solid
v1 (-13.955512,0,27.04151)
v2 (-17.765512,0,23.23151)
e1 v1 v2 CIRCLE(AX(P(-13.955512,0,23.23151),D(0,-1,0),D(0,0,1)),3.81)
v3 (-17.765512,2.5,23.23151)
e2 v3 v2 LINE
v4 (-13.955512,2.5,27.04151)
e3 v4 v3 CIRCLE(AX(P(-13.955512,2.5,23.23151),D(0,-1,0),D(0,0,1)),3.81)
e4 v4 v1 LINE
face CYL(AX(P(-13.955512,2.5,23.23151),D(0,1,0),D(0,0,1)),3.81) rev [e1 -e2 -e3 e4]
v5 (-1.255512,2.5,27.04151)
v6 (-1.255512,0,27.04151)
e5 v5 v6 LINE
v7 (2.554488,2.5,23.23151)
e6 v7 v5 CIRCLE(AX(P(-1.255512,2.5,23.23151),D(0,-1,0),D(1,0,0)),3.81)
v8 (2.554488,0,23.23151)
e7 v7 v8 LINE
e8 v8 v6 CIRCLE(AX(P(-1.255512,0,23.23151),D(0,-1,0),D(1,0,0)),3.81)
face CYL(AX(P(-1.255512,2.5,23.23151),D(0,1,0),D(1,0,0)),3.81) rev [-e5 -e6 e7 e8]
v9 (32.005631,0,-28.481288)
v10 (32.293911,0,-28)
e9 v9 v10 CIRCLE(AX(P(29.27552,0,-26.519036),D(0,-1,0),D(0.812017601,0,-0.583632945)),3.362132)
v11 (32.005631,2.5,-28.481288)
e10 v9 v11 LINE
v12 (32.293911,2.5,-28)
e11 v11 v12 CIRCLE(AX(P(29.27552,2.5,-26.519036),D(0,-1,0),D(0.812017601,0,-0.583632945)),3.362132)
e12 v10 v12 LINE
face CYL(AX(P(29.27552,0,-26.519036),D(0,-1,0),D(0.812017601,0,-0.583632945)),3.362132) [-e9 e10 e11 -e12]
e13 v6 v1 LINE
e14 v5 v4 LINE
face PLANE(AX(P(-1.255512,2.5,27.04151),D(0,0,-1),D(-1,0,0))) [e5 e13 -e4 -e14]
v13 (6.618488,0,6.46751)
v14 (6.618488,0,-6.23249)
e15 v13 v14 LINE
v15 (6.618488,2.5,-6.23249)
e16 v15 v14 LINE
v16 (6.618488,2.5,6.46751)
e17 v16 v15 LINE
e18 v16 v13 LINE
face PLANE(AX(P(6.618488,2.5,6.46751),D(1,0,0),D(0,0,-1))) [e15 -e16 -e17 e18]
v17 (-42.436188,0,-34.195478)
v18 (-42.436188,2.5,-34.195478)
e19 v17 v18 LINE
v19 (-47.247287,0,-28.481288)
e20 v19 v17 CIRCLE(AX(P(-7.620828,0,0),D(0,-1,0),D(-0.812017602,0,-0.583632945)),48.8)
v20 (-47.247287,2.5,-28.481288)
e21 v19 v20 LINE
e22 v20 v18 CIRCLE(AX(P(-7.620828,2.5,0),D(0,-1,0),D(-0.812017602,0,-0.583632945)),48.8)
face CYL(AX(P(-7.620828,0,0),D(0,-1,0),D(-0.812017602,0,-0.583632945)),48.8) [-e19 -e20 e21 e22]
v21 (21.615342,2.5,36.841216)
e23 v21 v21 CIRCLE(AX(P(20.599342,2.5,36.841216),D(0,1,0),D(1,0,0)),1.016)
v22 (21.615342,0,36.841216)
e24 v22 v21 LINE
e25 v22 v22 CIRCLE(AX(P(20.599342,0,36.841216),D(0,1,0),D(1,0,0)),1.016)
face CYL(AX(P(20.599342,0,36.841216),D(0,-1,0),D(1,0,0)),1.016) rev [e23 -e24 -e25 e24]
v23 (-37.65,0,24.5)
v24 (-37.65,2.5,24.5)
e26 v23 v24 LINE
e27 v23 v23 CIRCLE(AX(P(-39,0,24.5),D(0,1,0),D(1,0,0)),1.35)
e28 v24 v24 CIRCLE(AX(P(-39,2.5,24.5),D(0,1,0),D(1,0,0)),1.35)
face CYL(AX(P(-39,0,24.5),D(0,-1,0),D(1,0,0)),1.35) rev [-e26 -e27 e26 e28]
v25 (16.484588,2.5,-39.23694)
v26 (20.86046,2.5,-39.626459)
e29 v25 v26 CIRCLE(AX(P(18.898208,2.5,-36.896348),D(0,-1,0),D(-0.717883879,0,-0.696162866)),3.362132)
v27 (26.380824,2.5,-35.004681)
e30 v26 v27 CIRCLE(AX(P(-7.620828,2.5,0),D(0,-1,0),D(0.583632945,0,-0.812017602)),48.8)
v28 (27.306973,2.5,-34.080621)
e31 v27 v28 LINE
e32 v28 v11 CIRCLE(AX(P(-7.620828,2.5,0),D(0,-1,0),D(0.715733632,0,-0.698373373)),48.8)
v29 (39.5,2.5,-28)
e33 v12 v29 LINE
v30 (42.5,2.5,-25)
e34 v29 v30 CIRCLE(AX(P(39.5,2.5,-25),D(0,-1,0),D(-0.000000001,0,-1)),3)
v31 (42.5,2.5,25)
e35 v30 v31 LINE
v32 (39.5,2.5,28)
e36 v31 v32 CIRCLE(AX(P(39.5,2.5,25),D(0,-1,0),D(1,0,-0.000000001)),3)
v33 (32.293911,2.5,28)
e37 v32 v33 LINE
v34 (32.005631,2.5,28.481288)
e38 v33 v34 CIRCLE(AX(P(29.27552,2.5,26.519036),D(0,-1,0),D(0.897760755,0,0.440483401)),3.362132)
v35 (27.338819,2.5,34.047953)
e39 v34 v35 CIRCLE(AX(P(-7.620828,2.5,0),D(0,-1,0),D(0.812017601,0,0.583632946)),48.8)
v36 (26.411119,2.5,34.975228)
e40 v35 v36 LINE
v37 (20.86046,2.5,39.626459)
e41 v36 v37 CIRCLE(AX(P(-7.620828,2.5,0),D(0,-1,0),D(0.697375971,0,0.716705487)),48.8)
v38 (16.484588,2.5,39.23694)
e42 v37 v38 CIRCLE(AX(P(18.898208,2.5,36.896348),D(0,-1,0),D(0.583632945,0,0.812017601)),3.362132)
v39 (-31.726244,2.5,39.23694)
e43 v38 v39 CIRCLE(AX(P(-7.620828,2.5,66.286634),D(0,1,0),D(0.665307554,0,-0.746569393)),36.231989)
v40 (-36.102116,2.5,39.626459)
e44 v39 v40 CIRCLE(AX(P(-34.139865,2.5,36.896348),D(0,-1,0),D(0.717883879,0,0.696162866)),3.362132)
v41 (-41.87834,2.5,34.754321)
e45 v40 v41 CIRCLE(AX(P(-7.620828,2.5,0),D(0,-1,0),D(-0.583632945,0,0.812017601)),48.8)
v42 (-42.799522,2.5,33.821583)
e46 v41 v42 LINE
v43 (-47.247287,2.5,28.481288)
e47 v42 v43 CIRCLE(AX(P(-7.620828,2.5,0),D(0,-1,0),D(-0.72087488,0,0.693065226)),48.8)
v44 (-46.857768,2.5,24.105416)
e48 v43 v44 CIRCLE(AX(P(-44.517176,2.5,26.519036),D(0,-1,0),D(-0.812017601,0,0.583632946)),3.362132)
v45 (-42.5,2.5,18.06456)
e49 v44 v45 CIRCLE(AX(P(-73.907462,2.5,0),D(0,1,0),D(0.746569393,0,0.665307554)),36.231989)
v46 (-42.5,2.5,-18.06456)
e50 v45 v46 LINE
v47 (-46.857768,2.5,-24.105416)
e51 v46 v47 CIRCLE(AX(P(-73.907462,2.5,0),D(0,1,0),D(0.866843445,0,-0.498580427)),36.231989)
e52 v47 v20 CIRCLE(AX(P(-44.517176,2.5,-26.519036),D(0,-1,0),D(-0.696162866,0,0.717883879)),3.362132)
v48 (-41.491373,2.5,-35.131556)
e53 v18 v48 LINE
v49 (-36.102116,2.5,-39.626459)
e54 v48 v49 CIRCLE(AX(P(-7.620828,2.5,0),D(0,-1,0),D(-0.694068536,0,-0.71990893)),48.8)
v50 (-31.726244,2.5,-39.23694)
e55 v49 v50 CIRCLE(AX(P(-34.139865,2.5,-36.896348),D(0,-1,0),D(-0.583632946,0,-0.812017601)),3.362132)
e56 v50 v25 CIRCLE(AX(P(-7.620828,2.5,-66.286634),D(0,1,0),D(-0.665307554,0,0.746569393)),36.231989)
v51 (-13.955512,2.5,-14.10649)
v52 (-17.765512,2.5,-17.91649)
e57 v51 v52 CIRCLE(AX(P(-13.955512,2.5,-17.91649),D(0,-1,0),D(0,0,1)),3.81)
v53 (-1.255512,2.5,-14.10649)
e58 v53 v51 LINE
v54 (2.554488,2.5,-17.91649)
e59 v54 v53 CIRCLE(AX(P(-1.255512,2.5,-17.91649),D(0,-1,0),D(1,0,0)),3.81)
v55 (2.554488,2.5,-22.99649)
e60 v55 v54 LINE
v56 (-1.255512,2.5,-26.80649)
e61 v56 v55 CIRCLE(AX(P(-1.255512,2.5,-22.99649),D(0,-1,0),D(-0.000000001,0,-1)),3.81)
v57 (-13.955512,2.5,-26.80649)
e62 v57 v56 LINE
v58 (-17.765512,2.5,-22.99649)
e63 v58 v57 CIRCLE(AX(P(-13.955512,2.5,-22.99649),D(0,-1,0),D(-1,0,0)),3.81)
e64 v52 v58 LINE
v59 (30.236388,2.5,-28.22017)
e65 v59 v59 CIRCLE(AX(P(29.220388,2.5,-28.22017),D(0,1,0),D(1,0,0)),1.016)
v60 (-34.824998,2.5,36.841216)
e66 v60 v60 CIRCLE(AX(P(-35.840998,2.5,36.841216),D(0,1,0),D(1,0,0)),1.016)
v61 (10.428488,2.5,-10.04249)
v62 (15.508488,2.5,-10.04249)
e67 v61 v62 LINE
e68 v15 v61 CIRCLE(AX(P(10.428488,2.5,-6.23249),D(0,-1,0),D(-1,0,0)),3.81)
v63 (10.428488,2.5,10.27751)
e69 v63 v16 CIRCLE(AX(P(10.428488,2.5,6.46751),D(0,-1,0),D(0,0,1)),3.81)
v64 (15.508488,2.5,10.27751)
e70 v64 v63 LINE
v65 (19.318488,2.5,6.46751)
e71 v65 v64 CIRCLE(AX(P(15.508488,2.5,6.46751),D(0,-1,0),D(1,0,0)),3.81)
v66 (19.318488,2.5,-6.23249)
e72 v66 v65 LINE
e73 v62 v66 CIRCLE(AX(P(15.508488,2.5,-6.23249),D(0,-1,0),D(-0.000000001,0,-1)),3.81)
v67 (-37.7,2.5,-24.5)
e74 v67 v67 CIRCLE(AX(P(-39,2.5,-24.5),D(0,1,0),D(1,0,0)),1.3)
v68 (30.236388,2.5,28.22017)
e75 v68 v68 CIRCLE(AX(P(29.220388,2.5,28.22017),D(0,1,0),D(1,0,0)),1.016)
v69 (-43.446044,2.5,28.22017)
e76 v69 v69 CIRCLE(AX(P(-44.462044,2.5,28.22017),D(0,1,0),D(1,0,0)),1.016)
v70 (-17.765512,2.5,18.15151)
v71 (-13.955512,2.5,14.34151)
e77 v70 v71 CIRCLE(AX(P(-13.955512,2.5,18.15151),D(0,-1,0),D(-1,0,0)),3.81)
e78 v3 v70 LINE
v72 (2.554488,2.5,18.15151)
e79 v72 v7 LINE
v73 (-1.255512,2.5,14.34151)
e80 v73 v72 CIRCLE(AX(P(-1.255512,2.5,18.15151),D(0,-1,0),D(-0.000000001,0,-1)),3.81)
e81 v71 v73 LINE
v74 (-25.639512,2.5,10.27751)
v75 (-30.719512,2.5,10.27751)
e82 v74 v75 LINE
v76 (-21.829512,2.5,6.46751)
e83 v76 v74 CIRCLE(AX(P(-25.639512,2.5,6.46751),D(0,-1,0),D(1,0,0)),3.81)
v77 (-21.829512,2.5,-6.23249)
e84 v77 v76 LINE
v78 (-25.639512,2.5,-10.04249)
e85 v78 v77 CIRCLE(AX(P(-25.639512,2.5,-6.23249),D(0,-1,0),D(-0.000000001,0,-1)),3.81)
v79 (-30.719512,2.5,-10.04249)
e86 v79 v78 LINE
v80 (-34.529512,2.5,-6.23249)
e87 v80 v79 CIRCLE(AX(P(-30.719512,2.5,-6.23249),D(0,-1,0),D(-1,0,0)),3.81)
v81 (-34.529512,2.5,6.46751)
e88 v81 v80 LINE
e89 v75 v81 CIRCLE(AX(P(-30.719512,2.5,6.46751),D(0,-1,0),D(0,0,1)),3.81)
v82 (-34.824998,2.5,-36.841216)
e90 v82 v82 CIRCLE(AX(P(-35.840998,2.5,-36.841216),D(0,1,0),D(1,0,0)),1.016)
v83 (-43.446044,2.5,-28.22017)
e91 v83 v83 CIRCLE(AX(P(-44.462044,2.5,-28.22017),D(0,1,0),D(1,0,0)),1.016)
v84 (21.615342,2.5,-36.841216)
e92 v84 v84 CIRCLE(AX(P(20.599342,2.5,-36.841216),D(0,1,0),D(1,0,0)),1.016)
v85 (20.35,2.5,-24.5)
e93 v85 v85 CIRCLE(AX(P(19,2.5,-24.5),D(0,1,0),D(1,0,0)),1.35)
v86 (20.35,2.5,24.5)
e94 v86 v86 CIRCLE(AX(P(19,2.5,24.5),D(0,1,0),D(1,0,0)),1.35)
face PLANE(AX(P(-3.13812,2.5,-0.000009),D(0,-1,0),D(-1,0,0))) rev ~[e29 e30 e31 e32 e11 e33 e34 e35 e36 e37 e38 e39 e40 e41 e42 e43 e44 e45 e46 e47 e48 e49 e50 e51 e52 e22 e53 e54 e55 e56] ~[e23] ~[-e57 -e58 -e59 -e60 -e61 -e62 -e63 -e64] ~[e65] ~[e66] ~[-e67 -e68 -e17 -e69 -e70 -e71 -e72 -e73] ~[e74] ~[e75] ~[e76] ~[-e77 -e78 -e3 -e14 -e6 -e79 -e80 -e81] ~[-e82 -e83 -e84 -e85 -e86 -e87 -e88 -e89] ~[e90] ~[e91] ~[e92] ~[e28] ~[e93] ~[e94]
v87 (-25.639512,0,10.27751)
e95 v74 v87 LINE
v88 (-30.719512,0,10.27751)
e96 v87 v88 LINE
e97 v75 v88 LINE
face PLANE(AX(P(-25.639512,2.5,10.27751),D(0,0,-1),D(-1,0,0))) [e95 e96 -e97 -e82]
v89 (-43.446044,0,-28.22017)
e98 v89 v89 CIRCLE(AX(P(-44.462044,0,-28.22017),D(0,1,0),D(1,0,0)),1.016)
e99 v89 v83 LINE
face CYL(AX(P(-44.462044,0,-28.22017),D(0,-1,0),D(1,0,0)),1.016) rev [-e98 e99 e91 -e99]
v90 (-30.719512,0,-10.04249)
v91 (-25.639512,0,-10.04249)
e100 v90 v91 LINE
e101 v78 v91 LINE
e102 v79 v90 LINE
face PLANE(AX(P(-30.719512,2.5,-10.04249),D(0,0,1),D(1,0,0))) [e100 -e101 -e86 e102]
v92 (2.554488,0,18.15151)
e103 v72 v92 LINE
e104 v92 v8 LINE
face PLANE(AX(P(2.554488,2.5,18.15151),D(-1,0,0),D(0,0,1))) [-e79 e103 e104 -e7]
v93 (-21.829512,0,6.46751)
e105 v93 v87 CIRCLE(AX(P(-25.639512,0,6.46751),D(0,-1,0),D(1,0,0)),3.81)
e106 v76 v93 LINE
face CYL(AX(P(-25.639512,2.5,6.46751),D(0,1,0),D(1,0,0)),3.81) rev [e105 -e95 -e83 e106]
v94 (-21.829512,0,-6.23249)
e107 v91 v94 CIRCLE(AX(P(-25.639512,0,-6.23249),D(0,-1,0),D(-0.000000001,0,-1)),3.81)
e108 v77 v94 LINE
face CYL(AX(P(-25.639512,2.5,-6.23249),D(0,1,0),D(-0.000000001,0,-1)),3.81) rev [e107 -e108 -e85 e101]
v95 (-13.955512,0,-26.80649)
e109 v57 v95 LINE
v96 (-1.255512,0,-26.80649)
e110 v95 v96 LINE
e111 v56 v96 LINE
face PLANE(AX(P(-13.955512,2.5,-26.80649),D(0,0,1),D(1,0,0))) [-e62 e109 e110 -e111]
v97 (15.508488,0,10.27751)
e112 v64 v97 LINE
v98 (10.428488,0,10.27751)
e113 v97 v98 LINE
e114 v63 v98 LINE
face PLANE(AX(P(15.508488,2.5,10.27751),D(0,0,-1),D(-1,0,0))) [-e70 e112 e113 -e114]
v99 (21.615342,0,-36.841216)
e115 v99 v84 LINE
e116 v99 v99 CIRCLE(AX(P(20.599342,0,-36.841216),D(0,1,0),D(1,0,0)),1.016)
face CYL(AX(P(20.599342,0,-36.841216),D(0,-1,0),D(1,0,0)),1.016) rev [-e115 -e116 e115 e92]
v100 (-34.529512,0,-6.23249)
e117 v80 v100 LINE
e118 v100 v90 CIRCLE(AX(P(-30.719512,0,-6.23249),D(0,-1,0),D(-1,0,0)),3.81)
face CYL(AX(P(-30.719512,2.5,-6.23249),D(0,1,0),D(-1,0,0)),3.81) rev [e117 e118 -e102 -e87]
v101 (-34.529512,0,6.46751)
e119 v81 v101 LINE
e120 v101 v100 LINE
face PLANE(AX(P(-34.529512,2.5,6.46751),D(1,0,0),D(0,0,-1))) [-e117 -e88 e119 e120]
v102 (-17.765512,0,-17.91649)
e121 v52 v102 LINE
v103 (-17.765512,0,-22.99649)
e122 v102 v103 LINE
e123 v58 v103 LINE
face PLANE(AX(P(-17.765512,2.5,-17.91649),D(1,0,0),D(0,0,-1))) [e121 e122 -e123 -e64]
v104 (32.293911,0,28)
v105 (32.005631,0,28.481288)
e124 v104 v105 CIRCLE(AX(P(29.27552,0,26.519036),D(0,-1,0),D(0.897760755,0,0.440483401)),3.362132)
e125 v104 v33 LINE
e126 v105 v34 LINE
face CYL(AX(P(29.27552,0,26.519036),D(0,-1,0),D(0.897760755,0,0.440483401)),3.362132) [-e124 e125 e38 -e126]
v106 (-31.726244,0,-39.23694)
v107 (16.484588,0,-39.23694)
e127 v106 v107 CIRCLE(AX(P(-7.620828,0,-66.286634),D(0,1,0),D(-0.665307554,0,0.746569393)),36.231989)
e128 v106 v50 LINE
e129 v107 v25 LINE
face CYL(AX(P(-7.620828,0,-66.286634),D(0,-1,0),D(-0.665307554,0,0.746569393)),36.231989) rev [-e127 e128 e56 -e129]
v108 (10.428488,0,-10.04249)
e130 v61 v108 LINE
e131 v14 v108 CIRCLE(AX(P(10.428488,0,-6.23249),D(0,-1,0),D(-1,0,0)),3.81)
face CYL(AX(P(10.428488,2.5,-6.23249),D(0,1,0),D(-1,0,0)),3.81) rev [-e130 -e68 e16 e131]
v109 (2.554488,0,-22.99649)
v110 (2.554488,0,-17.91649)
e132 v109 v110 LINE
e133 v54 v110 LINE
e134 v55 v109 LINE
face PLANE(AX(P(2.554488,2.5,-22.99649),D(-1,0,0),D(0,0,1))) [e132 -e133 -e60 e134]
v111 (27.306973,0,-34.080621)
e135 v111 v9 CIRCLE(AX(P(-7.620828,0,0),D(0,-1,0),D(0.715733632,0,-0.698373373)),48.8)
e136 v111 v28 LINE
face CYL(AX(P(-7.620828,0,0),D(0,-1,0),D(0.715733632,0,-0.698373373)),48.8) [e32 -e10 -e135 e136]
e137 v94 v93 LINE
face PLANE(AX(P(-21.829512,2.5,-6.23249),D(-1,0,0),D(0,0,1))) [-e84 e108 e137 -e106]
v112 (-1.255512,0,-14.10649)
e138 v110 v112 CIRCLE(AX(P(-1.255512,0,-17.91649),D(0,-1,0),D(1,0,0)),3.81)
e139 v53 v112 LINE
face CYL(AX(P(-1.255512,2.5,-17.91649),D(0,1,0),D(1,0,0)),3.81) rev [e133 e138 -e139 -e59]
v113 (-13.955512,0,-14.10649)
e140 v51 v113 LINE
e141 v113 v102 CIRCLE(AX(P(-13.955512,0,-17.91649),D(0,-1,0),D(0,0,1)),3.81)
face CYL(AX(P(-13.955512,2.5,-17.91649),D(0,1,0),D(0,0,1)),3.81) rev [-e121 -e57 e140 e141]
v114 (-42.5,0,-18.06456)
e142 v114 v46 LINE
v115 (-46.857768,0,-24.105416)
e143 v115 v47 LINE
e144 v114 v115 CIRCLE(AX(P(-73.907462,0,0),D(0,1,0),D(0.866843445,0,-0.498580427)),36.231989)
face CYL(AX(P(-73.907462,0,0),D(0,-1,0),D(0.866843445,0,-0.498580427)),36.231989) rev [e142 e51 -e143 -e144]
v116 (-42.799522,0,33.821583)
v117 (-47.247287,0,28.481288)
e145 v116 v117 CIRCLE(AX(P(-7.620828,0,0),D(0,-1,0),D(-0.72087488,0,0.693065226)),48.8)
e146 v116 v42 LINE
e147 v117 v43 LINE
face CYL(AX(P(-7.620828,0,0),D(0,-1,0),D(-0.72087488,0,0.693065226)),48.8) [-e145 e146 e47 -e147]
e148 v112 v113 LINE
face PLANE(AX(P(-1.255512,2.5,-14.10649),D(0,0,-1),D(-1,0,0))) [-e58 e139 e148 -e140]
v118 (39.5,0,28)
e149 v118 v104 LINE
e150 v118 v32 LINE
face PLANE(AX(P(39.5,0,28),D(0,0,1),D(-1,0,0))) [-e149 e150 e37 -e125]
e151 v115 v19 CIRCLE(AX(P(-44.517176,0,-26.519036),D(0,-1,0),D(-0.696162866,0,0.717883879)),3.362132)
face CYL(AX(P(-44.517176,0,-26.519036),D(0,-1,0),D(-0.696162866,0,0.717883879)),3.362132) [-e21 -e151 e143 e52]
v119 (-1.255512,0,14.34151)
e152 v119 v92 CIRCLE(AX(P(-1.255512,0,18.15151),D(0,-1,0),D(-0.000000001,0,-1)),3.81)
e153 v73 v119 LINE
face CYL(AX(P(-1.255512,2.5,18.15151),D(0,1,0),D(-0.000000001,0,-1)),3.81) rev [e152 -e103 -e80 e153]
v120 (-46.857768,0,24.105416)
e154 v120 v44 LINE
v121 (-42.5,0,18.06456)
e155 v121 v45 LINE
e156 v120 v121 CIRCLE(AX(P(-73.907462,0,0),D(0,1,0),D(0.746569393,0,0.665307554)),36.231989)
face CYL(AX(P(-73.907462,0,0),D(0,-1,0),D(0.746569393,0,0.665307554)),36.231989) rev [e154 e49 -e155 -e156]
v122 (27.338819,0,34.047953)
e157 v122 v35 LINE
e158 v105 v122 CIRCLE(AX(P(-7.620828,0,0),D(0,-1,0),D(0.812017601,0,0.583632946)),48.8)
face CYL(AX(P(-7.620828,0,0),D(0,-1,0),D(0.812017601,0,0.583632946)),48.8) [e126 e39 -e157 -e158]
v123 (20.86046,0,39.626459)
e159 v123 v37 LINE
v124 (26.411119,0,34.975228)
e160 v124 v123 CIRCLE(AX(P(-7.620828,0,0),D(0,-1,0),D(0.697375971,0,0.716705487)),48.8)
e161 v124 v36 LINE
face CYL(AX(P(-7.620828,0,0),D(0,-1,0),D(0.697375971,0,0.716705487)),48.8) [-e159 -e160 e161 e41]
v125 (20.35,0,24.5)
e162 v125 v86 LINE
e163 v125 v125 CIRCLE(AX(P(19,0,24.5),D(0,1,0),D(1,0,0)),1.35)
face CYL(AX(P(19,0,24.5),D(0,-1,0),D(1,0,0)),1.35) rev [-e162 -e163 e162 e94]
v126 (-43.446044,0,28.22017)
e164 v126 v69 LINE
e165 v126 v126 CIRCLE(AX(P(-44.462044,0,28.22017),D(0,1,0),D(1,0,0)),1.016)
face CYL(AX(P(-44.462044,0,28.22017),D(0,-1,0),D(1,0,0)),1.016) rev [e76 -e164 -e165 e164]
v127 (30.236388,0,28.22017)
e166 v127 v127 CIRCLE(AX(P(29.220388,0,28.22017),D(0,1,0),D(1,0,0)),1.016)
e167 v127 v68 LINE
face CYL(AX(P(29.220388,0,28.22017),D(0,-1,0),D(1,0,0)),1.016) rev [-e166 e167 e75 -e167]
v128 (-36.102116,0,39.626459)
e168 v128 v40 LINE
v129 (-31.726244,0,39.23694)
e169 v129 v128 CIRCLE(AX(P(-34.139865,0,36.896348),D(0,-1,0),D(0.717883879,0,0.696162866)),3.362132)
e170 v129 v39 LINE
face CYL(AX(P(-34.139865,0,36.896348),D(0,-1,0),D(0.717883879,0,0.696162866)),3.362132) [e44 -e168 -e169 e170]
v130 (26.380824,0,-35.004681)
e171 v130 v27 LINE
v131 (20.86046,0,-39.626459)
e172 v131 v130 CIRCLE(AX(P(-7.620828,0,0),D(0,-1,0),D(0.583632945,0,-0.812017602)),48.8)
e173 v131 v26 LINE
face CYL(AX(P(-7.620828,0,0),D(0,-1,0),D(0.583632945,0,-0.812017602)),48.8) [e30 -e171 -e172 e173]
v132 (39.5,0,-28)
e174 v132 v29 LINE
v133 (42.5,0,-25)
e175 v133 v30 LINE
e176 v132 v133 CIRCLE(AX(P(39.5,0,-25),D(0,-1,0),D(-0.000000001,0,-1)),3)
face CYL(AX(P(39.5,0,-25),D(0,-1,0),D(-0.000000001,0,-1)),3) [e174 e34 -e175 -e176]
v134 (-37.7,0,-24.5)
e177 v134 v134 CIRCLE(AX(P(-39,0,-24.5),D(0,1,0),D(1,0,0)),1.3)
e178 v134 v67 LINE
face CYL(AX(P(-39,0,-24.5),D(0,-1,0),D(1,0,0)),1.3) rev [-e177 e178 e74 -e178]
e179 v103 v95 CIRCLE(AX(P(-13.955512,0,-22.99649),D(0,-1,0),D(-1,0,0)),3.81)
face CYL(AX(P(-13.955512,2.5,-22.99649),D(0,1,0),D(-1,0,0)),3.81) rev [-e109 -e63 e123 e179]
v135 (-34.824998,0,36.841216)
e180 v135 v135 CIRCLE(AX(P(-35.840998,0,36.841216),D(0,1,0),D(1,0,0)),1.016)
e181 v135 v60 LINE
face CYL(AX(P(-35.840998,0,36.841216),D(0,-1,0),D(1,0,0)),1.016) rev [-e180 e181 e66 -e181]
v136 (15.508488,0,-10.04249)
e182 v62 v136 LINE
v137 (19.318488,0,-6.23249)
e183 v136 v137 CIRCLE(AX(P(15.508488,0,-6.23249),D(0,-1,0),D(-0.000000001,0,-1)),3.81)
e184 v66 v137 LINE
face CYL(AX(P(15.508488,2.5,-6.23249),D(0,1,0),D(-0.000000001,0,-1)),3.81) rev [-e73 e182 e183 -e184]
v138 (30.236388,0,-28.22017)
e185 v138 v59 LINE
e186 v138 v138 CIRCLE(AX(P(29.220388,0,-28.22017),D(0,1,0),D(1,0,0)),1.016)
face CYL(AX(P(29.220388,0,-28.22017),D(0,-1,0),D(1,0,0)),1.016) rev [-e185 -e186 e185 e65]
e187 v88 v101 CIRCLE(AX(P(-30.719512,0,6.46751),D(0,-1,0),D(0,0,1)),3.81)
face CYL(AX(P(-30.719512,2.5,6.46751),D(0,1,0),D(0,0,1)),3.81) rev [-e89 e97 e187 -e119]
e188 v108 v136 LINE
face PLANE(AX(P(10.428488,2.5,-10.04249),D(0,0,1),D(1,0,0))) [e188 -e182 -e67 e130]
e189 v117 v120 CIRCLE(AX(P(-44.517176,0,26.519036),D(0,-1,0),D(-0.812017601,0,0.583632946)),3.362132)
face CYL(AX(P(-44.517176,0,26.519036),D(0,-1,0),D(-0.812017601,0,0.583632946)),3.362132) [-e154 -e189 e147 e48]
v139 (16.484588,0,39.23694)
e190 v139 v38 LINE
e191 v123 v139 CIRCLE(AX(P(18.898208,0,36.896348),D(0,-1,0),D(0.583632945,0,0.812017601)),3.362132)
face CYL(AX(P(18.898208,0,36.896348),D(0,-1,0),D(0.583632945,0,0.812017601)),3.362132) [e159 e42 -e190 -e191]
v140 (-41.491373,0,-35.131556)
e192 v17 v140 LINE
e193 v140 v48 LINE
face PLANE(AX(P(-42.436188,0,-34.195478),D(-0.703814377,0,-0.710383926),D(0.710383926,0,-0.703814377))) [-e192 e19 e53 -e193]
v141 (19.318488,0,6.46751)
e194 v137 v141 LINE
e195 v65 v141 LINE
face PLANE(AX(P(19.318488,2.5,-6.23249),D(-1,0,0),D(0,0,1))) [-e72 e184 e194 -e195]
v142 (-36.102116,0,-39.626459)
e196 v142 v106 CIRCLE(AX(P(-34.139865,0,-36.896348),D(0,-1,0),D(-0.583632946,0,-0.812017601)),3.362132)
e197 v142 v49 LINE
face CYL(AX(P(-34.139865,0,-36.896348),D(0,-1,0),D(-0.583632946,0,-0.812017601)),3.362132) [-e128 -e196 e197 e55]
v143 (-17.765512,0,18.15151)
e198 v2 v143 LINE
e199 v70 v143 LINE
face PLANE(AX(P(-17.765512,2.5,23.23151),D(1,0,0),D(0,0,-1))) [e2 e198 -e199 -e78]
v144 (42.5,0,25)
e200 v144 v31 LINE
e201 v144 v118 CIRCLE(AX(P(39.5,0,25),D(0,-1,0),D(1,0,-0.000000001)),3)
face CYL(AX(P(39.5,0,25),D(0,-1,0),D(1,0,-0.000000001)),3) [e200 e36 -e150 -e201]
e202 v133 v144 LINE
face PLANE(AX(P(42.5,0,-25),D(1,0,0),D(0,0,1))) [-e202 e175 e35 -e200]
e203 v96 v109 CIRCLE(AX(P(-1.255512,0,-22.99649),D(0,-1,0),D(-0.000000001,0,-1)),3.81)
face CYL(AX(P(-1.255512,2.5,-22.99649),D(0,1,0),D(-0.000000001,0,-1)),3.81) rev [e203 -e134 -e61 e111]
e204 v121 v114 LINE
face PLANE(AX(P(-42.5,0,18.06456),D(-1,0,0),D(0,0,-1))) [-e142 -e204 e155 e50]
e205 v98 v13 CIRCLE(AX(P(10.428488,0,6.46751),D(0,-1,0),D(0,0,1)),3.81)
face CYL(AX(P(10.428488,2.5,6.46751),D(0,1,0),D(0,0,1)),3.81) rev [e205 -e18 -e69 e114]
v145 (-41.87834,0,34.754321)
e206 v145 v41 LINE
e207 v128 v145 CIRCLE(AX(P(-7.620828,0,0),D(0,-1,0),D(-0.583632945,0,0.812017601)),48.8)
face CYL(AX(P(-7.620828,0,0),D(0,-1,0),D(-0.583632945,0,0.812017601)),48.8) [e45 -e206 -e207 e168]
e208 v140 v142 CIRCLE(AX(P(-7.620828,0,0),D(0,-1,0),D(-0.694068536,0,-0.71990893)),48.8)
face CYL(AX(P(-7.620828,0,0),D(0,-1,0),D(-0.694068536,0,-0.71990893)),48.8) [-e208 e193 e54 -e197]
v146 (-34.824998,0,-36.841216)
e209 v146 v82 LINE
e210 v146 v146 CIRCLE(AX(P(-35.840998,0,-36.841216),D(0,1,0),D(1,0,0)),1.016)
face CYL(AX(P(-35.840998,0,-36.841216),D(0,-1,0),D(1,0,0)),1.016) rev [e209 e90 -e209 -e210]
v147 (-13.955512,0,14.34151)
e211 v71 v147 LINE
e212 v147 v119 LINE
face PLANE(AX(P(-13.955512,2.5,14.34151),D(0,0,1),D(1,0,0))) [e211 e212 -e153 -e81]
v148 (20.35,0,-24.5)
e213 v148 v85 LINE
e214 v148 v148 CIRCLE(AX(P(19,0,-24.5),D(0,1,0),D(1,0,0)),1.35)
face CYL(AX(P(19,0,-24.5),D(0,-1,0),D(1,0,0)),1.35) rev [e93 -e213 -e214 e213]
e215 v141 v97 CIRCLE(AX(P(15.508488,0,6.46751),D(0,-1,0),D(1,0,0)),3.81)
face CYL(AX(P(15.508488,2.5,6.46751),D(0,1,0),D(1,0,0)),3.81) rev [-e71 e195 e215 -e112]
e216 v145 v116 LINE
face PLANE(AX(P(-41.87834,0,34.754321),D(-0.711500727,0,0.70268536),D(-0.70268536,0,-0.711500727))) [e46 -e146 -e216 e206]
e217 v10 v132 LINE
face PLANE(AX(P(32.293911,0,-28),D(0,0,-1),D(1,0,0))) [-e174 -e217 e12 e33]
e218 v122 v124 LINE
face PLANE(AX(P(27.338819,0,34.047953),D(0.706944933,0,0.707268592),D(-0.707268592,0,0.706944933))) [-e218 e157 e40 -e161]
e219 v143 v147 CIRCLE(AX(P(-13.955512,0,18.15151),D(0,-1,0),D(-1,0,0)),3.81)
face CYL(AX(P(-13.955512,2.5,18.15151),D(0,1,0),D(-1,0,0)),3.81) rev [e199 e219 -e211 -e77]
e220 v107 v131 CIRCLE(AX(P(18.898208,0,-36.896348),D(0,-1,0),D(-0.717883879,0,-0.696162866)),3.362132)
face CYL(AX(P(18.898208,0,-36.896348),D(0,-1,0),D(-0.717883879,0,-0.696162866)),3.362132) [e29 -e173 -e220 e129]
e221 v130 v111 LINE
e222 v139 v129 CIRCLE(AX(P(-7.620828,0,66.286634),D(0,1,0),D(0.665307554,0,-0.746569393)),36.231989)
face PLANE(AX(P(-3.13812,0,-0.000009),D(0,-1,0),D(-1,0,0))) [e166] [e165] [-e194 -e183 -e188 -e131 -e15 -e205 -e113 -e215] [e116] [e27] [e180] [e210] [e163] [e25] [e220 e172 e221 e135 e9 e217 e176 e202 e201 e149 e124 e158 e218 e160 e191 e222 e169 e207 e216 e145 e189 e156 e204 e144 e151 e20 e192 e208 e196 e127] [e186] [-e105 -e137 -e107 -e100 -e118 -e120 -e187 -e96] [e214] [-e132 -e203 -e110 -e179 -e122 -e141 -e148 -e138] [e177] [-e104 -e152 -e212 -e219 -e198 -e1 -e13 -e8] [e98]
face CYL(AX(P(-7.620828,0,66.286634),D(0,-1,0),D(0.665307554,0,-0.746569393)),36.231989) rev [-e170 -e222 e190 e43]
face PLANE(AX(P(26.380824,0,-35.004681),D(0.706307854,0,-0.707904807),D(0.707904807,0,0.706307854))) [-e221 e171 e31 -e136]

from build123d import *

# Parameters (mm, degrees)
SKETCH_4_R          = 1.015999997
EXTRUDE_1_DEPTH     = 2.5
SKETCH_1_R          = 1.35
SKETCH_1_R_2        = 1.3
CUT_EXTRUDE_1_DEPTH = 2.5
CUT_EXTRUDE_2_DEPTH = 2.5


with BuildPart() as part:
    # 草图4 → 凸台-拉伸1 (new body)
    with BuildSketch(Plane(origin=(0, 0, 0), x_dir=(1, 0, 0), z_dir=(0, 1, 0))):
        with BuildLine():
            Line((-42.436188428, 34.195477543), (-41.49137262, 35.131555803))
            ThreePointArc((-41.49137262, 35.131555803), (-38.877647905, 37.476008525), (-36.102115814, 39.626458957))
            ThreePointArc((-36.102115814, 39.626458957), (-33.841762455, 40.245239062), (-31.726243819, 39.236939987))
            ThreePointArc((-31.726243819, 39.236939987), (-7.620828088, 30.054645119), (16.484587642, 39.236939987))
            ThreePointArc((16.484587642, 39.236939987), (18.600106279, 40.245239062), (20.860459637, 39.626458957))
            ThreePointArc((20.860459637, 39.626458957), (23.705991726, 37.417514086), (26.38082366, 35.004680806))
            Line((26.38082366, 35.004680806), (27.30697313, 34.080620624))
            ThreePointArc((27.30697313, 34.080620624), (29.761287419, 31.369052268), (32.005630869, 28.481287726))
            ThreePointArc((32.005630869, 28.481287726), (32.159827034, 28.246667313), (32.293910707, 28))
            Line((32.293910707, 28), (39.5, 28))
            ThreePointArc((39.5, 28), (41.621320344, 27.121320344), (42.5, 25))
            Line((42.5, 25), (42.5, -25))
            ThreePointArc((42.5, -25), (41.621320344, -27.121320344), (39.5, -28))
            Line((39.5, -28), (32.293910707, -28))
            ThreePointArc((32.293910707, -28), (32.159827034, -28.246667313), (32.005630869, -28.481287726))
            ThreePointArc((32.005630869, -28.481287726), (29.775946345, -31.351575111), (27.338818851, -34.047952742))
            Line((27.338818851, -34.047952742), (26.411119263, -34.975227797))
            ThreePointArc((26.411119263, -34.975227797), (23.722187526, -37.403948618), (20.860459637, -39.626458957))
            ThreePointArc((20.860459637, -39.626458957), (18.600106279, -40.245239062), (16.484587642, -39.236939987))
            ThreePointArc((16.484587642, -39.236939987), (-7.620828088, -30.054645119), (-31.726243819, -39.236939987))
            ThreePointArc((-31.726243819, -39.236939987), (-33.841762455, -40.245239062), (-36.102115814, -39.626458957))
            ThreePointArc((-36.102115814, -39.626458957), (-39.084675426, -37.302363339), (-41.878340415, -34.754321303))
            Line((-41.878340415, -34.754321303), (-42.799522233, -33.821583024))
            ThreePointArc((-42.799522233, -33.821583024), (-45.118593637, -31.230715312), (-47.247287045, -28.481287726))
            ThreePointArc((-47.247287045, -28.481287726), (-47.86606715, -26.220934367), (-46.857768075, -24.105415731))
            ThreePointArc((-46.857768075, -24.105415731), (-44.523235736, -21.197270026), (-42.5, -18.064560362))
            Line((-42.5, -18.064560362), (-42.5, 18.064560362))
            ThreePointArc((-42.5, 18.064560362), (-44.523235736, 21.197270026), (-46.857768075, 24.105415731))
            ThreePointArc((-46.857768075, 24.105415731), (-47.86606715, 26.220934367), (-47.247287045, 28.481287726))
            ThreePointArc((-47.247287045, 28.481287726), (-44.951232672, 31.430572594), (-42.436188428, 34.195477543))
        make_face()
        with Locations((20.59934216, 36.841216125)):
            Circle(SKETCH_4_R, mode=Mode.SUBTRACT)
        with Locations((29.220388037, 28.220170249)):
            Circle(SKETCH_4_R, mode=Mode.SUBTRACT)
        with Locations((29.220388037, -28.220170249)):
            Circle(SKETCH_4_R, mode=Mode.SUBTRACT)
        with Locations((20.59934216, -36.841216125)):
            Circle(SKETCH_4_R, mode=Mode.SUBTRACT)
        with Locations((-35.840998337, -36.841216125)):
            Circle(SKETCH_4_R, mode=Mode.SUBTRACT)
        with Locations((-44.462044213, -28.220170249)):
            Circle(SKETCH_4_R, mode=Mode.SUBTRACT)
        with Locations((-35.840998337, 36.841216125)):
            Circle(SKETCH_4_R, mode=Mode.SUBTRACT)
        with Locations((-44.462044213, 28.220170249)):
            Circle(SKETCH_4_R, mode=Mode.SUBTRACT)
    extrude(amount=EXTRUDE_1_DEPTH)

    # 草图1 → 切除-拉伸1 (cut)
    with BuildSketch(Plane(origin=(0, 0, 0), x_dir=(1, 0, 0), z_dir=(0, 1, 0))):
        with Locations((19, -24.5)):
            Circle(SKETCH_1_R)
        with Locations((19, 24.5)):
            Circle(SKETCH_1_R)
        with Locations((-39, -24.5)):
            Circle(SKETCH_1_R)
        with Locations((-39, 24.5)):
            Circle(SKETCH_1_R_2)
    extrude(amount=CUT_EXTRUDE_1_DEPTH, mode=Mode.SUBTRACT)

    # 草图7 → 切除-拉伸2 (cut)
    with BuildSketch(Plane(origin=(0, 2.5, 0), x_dir=(1, 0, 0), z_dir=(0, 1, 0))):
        with BuildLine():
            Line((-1.255512377, -27.041509959), (-13.955512377, -27.041509959))
            ThreePointArc((-13.955512377, -27.041509959), (-16.649589213, -25.925586795), (-17.765512377, -23.231509959))
            Line((-17.765512377, -23.231509959), (-17.765512377, -18.151509959))
            ThreePointArc((-17.765512377, -18.151509959), (-16.649589213, -15.457433122), (-13.955512377, -14.341509959))
            Line((-13.955512377, -14.341509959), (-1.255512377, -14.341509959))
            ThreePointArc((-1.255512377, -14.341509959), (1.43856446, -15.457433122), (2.554487623, -18.151509959))
            Line((2.554487623, -18.151509959), (2.554487623, -23.231509959))
            ThreePointArc((2.554487623, -23.231509959), (1.43856446, -25.925586795), (-1.255512377, -27.041509959))
        make_face()
        with BuildLine():
            Line((6.618487623, -6.467509959), (6.618487623, 6.232490041))
            ThreePointArc((6.618487623, 6.232490041), (7.734410787, 8.926566878), (10.428487623, 10.042490041))
            Line((10.428487623, 10.042490041), (15.508487623, 10.042490041))
            ThreePointArc((15.508487623, 10.042490041), (18.20256446, 8.926566878), (19.318487623, 6.232490041))
            Line((19.318487623, 6.232490041), (19.318487623, -6.467509959))
            ThreePointArc((19.318487623, -6.467509959), (18.20256446, -9.161586795), (15.508487623, -10.277509959))
            Line((15.508487623, -10.277509959), (10.428487623, -10.277509959))
            ThreePointArc((10.428487623, -10.277509959), (7.734410787, -9.161586795), (6.618487623, -6.467509959))
        make_face()
        with BuildLine():
            Line((-1.255512377, 14.106490041), (-13.955512377, 14.106490041))
            ThreePointArc((-13.955512377, 14.106490041), (-16.649589213, 15.222413205), (-17.765512377, 17.916490041))
            Line((-17.765512377, 17.916490041), (-17.765512377, 22.996490041))
            ThreePointArc((-17.765512377, 22.996490041), (-16.649589213, 25.690566878), (-13.955512377, 26.806490041))
            Line((-13.955512377, 26.806490041), (-1.255512377, 26.806490041))
            ThreePointArc((-1.255512377, 26.806490041), (1.43856446, 25.690566878), (2.554487623, 22.996490041))
            Line((2.554487623, 22.996490041), (2.554487623, 17.916490041))
            ThreePointArc((2.554487623, 17.916490041), (1.43856446, 15.222413205), (-1.255512377, 14.106490041))
        make_face()
        with BuildLine():
            Line((-25.639512377, -10.277509959), (-30.719512377, -10.277509959))
            ThreePointArc((-30.719512377, -10.277509959), (-33.413589213, -9.161586795), (-34.529512377, -6.467509959))
            Line((-34.529512377, -6.467509959), (-34.529512377, 6.232490041))
            ThreePointArc((-34.529512377, 6.232490041), (-33.413589213, 8.926566878), (-30.719512377, 10.042490041))
            Line((-30.719512377, 10.042490041), (-25.639512377, 10.042490041))
            ThreePointArc((-25.639512377, 10.042490041), (-22.94543554, 8.926566878), (-21.829512377, 6.232490041))
            Line((-21.829512377, 6.232490041), (-21.829512377, -6.467509959))
            ThreePointArc((-21.829512377, -6.467509959), (-22.94543554, -9.161586795), (-25.639512377, -10.277509959))
        make_face()
    extrude(amount=-CUT_EXTRUDE_2_DEPTH, mode=Mode.SUBTRACT)


solid = part.part
